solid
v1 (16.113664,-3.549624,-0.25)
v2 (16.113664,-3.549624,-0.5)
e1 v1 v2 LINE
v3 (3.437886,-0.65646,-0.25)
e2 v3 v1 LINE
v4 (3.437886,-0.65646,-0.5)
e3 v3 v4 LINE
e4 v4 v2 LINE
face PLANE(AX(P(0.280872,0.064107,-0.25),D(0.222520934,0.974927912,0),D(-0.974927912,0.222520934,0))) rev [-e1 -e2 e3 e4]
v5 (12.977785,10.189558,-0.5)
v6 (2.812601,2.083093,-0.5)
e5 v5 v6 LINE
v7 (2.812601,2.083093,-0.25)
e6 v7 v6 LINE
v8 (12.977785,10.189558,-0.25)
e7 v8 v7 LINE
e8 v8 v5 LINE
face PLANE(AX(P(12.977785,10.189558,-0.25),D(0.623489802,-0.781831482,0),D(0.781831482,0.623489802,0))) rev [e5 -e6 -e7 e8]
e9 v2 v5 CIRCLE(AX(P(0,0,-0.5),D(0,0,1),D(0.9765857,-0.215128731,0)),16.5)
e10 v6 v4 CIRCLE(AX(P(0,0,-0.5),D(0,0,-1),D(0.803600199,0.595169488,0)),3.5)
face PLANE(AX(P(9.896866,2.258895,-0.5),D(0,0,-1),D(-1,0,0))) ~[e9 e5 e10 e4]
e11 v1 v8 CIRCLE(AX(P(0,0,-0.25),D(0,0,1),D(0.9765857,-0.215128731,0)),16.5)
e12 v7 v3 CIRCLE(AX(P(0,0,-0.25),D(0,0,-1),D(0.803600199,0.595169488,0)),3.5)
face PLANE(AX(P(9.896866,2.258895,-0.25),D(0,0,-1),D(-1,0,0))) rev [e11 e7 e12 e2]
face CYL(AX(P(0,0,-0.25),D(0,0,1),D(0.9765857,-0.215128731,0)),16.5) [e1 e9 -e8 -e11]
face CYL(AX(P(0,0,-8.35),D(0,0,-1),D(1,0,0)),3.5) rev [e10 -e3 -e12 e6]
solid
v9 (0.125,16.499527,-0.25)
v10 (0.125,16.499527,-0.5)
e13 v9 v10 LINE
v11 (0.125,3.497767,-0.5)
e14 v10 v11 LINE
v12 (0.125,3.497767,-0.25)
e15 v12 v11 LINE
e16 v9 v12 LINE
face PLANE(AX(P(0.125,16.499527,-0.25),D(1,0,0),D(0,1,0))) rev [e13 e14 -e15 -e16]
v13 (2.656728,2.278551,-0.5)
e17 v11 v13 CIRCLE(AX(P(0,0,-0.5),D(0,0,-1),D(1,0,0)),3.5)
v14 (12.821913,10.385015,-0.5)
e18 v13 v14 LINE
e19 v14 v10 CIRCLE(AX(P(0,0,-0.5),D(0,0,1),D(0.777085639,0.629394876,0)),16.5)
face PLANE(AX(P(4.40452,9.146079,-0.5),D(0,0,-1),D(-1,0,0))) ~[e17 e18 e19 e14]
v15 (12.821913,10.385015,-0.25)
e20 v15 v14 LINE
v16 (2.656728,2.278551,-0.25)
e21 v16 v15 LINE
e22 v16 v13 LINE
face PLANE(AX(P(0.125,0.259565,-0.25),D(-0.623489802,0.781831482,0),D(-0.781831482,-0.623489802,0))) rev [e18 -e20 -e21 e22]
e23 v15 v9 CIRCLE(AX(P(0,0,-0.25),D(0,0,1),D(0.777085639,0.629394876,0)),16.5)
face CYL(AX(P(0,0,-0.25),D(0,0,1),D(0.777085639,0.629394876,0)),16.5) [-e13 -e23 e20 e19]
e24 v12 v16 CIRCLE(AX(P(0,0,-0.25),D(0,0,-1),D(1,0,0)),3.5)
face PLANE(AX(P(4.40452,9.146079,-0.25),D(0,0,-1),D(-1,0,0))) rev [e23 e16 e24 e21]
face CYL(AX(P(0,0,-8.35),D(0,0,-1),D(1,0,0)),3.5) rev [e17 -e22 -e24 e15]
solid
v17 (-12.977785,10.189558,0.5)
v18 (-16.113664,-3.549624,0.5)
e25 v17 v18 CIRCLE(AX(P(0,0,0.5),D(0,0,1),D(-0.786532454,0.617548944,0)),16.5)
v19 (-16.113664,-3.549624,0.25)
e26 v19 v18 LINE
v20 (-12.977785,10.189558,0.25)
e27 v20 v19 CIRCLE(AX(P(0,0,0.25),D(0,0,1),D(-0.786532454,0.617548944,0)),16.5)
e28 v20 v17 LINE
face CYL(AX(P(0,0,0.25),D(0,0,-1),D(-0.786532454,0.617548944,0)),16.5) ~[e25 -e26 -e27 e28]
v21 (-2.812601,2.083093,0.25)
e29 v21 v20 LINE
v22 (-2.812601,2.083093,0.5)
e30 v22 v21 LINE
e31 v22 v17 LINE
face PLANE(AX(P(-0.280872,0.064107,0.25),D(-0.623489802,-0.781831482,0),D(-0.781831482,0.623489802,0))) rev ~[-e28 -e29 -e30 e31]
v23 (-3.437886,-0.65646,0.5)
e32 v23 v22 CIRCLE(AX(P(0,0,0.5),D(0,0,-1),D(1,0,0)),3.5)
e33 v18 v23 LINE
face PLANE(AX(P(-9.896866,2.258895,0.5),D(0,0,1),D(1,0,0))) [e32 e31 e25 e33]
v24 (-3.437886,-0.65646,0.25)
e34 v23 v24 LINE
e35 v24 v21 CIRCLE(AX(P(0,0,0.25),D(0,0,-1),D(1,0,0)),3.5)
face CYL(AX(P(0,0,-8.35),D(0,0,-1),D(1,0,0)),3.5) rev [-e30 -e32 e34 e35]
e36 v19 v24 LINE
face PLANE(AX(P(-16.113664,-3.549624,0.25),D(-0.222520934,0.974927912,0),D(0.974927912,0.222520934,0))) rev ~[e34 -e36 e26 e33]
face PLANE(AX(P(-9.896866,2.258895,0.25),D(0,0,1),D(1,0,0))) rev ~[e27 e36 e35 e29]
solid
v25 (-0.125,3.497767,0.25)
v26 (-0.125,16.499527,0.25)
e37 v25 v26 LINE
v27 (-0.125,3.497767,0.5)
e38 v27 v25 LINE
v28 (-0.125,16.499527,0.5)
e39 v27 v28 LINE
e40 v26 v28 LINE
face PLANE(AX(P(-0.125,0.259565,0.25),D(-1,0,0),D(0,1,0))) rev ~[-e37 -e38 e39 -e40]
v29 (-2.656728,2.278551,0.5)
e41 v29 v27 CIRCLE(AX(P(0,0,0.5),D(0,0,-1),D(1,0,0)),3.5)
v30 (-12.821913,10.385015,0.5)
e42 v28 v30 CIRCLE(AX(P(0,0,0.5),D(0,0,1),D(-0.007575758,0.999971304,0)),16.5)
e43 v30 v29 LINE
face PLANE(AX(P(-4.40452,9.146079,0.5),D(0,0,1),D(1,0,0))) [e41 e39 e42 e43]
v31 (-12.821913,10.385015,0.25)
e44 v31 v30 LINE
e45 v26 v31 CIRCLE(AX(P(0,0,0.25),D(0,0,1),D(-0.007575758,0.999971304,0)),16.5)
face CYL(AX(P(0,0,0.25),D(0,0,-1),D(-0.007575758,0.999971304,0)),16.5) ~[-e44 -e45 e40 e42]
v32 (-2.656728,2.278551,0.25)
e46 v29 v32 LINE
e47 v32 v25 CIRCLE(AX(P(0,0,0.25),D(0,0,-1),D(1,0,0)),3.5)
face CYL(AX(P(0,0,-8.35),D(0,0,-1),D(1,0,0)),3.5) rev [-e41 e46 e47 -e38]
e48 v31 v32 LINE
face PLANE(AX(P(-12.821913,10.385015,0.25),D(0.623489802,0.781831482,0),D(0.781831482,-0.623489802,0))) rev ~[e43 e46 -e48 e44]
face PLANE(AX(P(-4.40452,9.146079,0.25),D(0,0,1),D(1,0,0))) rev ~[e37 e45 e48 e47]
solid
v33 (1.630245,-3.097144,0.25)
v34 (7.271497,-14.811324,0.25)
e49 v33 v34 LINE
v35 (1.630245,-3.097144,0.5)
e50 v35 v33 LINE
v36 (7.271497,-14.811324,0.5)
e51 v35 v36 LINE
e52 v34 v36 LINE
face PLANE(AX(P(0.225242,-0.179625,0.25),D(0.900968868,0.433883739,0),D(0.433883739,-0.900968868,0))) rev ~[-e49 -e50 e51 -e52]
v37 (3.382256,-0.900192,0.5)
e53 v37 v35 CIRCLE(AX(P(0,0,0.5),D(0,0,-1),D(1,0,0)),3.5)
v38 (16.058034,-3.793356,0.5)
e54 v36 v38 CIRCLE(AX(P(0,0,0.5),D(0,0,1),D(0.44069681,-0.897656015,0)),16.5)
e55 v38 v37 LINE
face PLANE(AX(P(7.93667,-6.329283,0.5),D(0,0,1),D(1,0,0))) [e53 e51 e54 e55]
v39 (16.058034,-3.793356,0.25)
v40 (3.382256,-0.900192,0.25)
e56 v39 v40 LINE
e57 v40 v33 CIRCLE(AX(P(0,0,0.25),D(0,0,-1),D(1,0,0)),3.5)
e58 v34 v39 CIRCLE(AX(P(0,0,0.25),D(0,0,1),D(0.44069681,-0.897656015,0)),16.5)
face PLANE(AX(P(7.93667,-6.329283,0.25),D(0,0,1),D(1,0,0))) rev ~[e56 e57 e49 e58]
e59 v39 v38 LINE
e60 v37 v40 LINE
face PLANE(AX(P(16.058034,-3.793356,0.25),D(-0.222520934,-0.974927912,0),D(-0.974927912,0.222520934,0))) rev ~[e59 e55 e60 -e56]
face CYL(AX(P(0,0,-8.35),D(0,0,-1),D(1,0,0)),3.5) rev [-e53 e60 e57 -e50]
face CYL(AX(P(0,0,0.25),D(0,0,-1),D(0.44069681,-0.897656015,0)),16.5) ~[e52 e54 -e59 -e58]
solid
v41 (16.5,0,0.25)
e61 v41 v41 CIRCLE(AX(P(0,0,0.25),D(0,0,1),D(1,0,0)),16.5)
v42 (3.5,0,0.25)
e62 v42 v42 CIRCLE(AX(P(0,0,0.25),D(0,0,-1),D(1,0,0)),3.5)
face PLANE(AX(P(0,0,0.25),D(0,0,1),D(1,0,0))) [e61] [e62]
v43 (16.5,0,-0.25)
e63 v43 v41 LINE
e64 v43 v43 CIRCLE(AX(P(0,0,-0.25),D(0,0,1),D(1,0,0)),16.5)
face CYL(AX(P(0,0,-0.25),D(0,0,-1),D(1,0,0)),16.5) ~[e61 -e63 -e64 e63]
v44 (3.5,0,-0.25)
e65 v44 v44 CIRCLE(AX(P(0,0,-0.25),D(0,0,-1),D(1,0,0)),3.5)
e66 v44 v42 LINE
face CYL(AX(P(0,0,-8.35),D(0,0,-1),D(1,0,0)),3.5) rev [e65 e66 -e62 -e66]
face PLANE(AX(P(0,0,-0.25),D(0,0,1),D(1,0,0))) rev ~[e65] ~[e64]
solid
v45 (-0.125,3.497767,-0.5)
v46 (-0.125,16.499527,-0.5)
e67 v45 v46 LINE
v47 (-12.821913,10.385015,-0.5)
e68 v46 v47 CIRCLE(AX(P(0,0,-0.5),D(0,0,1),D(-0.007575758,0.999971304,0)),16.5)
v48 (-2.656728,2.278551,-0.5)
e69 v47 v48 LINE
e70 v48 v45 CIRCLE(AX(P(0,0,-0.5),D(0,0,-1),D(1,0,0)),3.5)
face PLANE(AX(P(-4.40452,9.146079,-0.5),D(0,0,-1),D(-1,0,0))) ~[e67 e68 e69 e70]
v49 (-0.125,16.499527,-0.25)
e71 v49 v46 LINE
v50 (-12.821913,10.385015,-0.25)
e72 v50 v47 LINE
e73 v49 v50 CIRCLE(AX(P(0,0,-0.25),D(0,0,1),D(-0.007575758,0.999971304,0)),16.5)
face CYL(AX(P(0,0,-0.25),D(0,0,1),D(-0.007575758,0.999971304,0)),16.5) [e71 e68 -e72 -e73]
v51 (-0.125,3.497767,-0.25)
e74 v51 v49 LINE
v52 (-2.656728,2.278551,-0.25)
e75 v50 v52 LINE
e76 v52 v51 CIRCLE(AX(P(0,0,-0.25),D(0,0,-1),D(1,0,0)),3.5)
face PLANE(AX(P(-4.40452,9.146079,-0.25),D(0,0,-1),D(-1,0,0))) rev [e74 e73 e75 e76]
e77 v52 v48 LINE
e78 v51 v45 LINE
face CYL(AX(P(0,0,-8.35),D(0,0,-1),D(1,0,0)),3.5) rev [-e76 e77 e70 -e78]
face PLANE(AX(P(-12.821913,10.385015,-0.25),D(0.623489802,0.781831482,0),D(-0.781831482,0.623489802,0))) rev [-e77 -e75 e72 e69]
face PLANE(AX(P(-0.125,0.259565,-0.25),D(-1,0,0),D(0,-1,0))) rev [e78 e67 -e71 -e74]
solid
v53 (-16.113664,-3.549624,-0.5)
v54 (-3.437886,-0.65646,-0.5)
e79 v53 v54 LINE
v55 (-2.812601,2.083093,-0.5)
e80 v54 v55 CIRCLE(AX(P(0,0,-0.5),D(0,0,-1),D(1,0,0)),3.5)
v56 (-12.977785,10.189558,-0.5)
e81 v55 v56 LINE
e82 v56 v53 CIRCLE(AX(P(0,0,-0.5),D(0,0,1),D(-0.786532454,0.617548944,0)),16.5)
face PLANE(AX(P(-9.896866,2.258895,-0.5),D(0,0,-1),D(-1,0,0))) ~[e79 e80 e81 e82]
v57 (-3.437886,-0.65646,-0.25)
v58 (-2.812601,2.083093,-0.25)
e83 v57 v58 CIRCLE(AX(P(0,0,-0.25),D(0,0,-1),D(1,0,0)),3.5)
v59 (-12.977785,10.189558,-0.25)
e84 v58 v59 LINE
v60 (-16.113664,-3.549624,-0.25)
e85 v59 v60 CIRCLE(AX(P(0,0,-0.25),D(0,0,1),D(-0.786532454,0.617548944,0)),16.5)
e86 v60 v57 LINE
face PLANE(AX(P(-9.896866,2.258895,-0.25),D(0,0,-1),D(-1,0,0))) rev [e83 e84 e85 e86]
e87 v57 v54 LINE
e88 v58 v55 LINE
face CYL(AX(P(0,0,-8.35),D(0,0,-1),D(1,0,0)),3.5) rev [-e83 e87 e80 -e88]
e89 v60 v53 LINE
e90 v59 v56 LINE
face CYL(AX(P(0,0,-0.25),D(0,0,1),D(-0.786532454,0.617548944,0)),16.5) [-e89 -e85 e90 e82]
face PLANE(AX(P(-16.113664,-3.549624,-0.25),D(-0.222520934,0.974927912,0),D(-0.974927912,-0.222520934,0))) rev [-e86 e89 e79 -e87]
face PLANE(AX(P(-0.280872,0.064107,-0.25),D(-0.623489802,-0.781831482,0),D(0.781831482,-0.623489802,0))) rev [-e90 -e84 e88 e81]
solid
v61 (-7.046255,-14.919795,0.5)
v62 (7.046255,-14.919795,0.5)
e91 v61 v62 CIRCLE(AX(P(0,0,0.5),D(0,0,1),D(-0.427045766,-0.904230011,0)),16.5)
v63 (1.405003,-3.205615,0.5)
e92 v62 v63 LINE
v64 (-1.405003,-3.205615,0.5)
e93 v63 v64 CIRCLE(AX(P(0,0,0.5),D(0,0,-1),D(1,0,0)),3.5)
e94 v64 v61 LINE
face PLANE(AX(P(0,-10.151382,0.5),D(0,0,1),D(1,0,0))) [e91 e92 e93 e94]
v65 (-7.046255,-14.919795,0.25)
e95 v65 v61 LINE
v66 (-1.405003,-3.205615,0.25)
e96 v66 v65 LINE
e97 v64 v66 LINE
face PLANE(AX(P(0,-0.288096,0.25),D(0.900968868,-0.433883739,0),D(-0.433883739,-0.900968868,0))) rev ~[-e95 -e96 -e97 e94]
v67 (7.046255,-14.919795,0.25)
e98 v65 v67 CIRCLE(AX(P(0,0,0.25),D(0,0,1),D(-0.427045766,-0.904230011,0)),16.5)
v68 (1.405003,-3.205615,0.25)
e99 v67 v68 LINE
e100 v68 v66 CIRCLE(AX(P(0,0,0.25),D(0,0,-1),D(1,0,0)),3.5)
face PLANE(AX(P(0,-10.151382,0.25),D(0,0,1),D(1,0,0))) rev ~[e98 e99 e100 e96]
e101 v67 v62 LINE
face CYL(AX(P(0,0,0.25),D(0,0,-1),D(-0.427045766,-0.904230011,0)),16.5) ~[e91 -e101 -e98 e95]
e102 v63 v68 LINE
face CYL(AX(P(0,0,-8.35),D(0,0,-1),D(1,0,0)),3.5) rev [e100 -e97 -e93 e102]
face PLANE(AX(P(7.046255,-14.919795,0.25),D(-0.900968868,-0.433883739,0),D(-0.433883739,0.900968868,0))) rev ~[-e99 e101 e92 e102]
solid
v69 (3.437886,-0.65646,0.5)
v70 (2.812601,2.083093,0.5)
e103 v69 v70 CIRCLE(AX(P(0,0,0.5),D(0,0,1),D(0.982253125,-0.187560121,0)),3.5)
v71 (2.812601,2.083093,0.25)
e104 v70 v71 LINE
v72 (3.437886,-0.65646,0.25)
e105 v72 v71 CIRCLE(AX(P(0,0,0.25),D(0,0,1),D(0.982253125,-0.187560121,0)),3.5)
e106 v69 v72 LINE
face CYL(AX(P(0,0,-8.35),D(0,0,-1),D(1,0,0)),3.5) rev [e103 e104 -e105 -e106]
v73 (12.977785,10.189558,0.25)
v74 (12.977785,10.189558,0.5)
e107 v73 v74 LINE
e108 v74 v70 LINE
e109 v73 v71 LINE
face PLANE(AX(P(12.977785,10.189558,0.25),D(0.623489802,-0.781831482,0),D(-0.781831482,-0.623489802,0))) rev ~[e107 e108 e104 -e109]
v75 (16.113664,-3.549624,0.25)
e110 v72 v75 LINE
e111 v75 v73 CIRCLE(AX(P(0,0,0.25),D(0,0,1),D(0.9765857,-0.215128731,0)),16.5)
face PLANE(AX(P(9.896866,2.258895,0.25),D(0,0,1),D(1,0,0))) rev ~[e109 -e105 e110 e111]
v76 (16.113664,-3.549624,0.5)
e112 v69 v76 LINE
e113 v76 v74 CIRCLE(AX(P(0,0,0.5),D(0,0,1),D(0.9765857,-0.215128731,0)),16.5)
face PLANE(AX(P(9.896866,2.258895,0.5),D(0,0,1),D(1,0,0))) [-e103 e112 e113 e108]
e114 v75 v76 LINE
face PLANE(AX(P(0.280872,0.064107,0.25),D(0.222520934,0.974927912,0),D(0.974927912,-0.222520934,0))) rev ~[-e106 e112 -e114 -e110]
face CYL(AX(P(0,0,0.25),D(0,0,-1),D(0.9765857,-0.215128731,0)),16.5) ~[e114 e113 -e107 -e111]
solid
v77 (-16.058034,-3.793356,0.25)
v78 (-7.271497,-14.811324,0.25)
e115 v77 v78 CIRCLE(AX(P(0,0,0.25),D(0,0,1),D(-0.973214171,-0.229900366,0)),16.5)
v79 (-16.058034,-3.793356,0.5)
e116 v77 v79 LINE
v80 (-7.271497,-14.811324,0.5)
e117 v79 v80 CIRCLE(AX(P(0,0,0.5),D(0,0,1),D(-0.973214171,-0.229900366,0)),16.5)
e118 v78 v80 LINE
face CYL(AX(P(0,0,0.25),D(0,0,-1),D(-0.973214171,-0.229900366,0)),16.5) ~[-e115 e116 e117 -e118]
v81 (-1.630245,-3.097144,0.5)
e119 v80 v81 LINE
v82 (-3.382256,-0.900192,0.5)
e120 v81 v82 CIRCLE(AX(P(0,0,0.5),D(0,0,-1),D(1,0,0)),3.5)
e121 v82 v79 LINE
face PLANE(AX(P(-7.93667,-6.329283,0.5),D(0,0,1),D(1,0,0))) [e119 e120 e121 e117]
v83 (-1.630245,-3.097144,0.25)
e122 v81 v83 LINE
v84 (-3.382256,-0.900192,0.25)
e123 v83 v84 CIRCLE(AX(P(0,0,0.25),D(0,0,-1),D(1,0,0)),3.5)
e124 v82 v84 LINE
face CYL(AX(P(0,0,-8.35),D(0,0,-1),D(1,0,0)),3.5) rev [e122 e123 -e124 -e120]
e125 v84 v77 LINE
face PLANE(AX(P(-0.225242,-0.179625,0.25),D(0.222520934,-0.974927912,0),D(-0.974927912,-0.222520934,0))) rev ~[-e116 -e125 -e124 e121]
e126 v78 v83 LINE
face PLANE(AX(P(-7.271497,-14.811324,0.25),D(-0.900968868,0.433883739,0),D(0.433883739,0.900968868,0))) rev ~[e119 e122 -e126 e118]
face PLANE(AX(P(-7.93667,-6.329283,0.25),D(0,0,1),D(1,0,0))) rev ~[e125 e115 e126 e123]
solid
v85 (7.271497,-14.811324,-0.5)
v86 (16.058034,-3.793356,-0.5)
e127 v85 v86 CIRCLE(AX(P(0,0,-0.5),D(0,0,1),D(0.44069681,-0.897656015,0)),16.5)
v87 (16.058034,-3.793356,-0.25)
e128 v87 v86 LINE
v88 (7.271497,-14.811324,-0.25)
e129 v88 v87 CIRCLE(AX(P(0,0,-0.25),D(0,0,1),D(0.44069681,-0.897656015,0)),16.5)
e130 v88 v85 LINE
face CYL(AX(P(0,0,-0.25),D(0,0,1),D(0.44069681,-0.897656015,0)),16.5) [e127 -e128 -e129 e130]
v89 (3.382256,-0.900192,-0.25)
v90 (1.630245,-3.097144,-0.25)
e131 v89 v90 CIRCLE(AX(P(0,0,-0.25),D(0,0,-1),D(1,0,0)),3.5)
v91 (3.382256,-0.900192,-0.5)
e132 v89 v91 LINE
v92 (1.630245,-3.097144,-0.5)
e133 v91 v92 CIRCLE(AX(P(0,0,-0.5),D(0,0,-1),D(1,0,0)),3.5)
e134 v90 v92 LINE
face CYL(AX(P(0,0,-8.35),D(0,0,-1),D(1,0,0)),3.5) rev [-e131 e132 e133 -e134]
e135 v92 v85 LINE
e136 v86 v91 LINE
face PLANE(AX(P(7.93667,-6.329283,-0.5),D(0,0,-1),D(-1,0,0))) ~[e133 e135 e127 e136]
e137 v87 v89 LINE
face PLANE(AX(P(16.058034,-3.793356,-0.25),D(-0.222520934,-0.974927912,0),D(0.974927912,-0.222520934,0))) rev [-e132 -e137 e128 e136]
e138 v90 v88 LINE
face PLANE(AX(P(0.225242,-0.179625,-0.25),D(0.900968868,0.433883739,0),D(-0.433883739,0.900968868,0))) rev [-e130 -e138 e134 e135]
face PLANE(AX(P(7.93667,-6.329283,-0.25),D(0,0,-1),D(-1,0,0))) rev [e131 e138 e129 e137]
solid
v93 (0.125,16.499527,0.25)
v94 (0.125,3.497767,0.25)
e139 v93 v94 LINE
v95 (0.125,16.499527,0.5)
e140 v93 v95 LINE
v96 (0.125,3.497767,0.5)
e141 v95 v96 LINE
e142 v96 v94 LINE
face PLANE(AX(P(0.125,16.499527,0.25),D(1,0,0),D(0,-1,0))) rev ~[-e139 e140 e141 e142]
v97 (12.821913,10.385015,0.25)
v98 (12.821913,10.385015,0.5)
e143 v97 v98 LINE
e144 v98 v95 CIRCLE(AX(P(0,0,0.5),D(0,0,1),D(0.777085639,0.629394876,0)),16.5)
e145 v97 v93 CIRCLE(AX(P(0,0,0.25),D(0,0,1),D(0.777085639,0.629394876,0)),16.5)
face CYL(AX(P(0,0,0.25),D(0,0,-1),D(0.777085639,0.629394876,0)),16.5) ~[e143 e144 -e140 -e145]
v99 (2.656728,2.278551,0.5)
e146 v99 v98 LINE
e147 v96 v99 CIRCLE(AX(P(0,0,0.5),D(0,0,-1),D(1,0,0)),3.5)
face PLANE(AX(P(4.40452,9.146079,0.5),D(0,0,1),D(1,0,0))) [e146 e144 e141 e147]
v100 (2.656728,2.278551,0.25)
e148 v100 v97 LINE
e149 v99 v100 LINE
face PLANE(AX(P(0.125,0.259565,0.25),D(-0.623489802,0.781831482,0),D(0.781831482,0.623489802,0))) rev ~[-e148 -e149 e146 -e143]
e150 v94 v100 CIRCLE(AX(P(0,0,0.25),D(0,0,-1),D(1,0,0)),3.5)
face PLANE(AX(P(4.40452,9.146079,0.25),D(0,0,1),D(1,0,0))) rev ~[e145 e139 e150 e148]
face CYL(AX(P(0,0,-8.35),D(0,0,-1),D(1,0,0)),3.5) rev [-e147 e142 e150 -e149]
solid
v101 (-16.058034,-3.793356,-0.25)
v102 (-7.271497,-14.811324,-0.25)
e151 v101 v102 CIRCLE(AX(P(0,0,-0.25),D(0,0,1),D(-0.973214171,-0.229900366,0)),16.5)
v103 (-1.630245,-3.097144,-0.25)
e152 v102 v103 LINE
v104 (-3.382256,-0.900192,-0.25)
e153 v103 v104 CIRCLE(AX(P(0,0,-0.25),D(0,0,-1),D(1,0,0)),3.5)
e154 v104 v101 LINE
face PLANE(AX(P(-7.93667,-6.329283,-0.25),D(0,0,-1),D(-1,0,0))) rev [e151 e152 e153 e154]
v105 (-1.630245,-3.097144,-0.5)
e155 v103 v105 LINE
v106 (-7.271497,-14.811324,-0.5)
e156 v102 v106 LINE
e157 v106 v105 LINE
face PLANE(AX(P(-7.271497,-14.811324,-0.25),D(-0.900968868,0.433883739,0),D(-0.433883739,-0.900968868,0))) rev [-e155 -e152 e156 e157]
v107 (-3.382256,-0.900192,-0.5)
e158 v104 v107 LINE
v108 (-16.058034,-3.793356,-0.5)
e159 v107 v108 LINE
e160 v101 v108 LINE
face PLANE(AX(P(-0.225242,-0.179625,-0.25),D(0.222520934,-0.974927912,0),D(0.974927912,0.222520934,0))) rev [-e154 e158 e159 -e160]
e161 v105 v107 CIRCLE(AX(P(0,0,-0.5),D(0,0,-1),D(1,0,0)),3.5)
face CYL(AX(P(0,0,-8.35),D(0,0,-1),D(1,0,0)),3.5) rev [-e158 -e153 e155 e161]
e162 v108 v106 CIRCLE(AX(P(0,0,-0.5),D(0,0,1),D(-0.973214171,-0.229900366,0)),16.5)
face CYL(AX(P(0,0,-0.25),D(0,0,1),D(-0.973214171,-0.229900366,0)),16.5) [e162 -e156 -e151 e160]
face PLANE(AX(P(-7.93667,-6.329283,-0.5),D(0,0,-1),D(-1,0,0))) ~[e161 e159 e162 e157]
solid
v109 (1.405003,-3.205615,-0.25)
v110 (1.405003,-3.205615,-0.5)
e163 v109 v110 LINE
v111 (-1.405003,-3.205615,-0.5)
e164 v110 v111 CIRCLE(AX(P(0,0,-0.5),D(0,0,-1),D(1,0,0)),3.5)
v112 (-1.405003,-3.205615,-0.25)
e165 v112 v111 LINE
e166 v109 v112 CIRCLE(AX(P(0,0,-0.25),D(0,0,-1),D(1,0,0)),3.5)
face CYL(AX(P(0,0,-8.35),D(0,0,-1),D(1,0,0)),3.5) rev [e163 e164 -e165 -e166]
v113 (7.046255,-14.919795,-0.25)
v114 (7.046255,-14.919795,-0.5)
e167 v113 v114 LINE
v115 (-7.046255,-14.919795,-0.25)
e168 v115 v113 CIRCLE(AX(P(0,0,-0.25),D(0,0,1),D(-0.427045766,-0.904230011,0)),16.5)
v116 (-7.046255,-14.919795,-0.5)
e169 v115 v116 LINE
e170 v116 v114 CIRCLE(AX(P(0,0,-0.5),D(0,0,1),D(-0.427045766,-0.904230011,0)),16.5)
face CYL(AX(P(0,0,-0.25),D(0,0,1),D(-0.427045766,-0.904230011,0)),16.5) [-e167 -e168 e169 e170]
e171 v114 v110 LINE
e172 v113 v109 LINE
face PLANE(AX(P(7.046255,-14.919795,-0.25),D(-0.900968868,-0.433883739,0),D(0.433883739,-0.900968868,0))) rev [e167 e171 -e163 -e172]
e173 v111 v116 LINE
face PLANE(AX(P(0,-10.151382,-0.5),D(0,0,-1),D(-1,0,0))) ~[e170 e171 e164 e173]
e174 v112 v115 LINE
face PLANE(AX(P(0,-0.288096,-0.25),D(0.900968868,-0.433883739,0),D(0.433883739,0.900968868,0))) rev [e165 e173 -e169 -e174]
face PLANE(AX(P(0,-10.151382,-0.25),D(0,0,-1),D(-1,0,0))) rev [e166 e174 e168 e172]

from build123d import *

# Parameters (mm, degrees)
BOSS_EXTRUDE1_DEPTH      = 0.25
BOSS_EXTRUDE1_DEPTH_BACK = 0.25
SKETCH1_R                = 16.5
BOSS_EXTRUDE2_DEPTH      = 0.25
BOSS_EXTRUDE2_2_DEPTH    = 0.25
BOSS_EXTRUDE2_3_DEPTH    = 0.25
BOSS_EXTRUDE2_4_DEPTH    = 0.25
BOSS_EXTRUDE2_5_DEPTH    = 0.25
BOSS_EXTRUDE2_6_DEPTH    = 0.25
BOSS_EXTRUDE2_7_DEPTH    = 0.25
CUT_EXTRUDE2_DEPTH       = 10
CUT_EXTRUDE2_DEPTH_BACK  = 8.35
SKETCH3_R                = 3.5


with BuildPart() as part:
    # Sketch1 → Boss-Extrude1 (new, two sides: drawn at the far end of the back side and taken through both)
    with BuildSketch(Plane.XY.offset(-BOSS_EXTRUDE1_DEPTH_BACK)):
        Circle(SKETCH1_R)
    extrude(amount=BOSS_EXTRUDE1_DEPTH + BOSS_EXTRUDE1_DEPTH_BACK)


with BuildPart() as body_2:
    # Sketch2 → Boss-Extrude2 (new body)
    with BuildSketch(Plane.XY.offset(0.25)):
        with BuildLine():
            Line((0.125, 16.499526508), (0.125, 0.259565175))
            Line((0.125, 0.259565175), (12.821913045, 10.385015449))
            ThreePointArc((12.821913045, 10.385015449), (7.159081695, 14.86598632), (0.125, 16.499526508))
        make_face()
    extrude(amount=BOSS_EXTRUDE2_DEPTH)


with BuildPart() as body_3:
    # Sketch2 → Boss-Extrude2 2 (new body)
    with BuildSketch(Plane.XY.offset(0.25)):
        with BuildLine():
            Line((-12.821913045, 10.385015449), (-0.125, 0.259565175))
            Line((-0.125, 0.259565175), (-0.125, 16.499526508))
            ThreePointArc((-0.125, 16.499526508), (-7.159081695, 14.86598632), (-12.821913045, 10.385015449))
        make_face()
    extrude(amount=BOSS_EXTRUDE2_2_DEPTH)


with BuildPart() as body_4:
    # Sketch2 → Boss-Extrude2 3 (new body)
    with BuildSketch(Plane.XY.offset(0.25)):
        with BuildLine():
            Line((-16.113664048, -3.549624059), (-0.28087245, 0.064107304))
            Line((-0.28087245, 0.064107304), (-12.977785495, 10.189557578))
            ThreePointArc((-12.977785495, 10.189557578), (-16.086310551, 3.67159541), (-16.113664048, -3.549624059))
        make_face()
    extrude(amount=BOSS_EXTRUDE2_3_DEPTH)


with BuildPart() as body_5:
    # Sketch2 → Boss-Extrude2 4 (new body)
    with BuildSketch(Plane.XY.offset(0.25)):
        with BuildLine():
            Line((12.977785495, 10.189557578), (0.28087245, 0.064107304))
            Line((0.28087245, 0.064107304), (16.113664048, -3.549624059))
            ThreePointArc((16.113664048, -3.549624059), (16.086310551, 3.67159541), (12.977785495, 10.189557578))
        make_face()
    extrude(amount=BOSS_EXTRUDE2_4_DEPTH)


with BuildPart() as body_6:
    # Sketch2 → Boss-Extrude2 5 (new body)
    with BuildSketch(Plane.XY.offset(0.25)):
        with BuildLine():
            Line((16.058033814, -3.793356037), (0.225242217, -0.179624674))
            Line((0.225242217, -0.179624674), (7.271497364, -14.811324252))
            ThreePointArc((7.271497364, -14.811324252), (12.900219461, -10.287581731), (16.058033814, -3.793356037))
        make_face()
    extrude(amount=BOSS_EXTRUDE2_5_DEPTH)


with BuildPart() as body_7:
    # Sketch2 → Boss-Extrude2 6 (new body)
    with BuildSketch(Plane.XY.offset(0.25)):
        with BuildLine():
            Line((7.046255147, -14.919795187), (0, -0.288095609))
            Line((0, -0.288095609), (-7.046255147, -14.919795187))
            ThreePointArc((-7.046255147, -14.919795187), (0, -16.5), (7.046255147, -14.919795187))
        make_face()
    extrude(amount=BOSS_EXTRUDE2_6_DEPTH)


with BuildPart() as body_8:
    # Sketch2 → Boss-Extrude2 7 (new body)
    with BuildSketch(Plane.XY.offset(0.25)):
        with BuildLine():
            Line((-7.271497364, -14.811324252), (-0.225242217, -0.179624674))
            Line((-0.225242217, -0.179624674), (-16.058033814, -3.793356037))
            ThreePointArc((-16.058033814, -3.793356037), (-12.900219461, -10.287581731), (-7.271497364, -14.811324252))
        make_face()
    extrude(amount=BOSS_EXTRUDE2_7_DEPTH)


with BuildPart() as body_9:
    # Mirror5: mirrored copy
    add(body_2.part.mirror(Plane.XY))


with BuildPart() as body_10:
    # Mirror5 2: mirrored copy
    add(body_3.part.mirror(Plane.XY))


with BuildPart() as body_11:
    # Mirror5 3: mirrored copy
    add(body_5.part.mirror(Plane.XY))


with BuildPart() as body_12:
    # Mirror5 4: mirrored copy
    add(body_6.part.mirror(Plane.XY))


with BuildPart() as body_13:
    # Mirror5 5: mirrored copy
    add(body_7.part.mirror(Plane.XY))


with BuildPart() as body_14:
    # Mirror5 6: mirrored copy
    add(body_8.part.mirror(Plane.XY))


with BuildPart() as body_15:
    # Mirror5 7: mirrored copy
    add(body_4.part.mirror(Plane.XY))


with BuildPart() as cut_extrude2_tool:
    # Sketch3 → Cut-Extrude2 (new, two sides: drawn at the far end of the back side and taken through both)
    with BuildSketch(Plane.XY.offset(-CUT_EXTRUDE2_DEPTH_BACK)):
        Circle(SKETCH3_R)
    extrude(amount=CUT_EXTRUDE2_DEPTH + CUT_EXTRUDE2_DEPTH_BACK)


with BuildPart() as part_1:
    add(part.part)

    # Cut-Extrude2: cut by cut_extrude2_tool
    add(cut_extrude2_tool.part, mode=Mode.SUBTRACT)


with BuildPart() as body_2_1:
    add(body_2.part)

    # Cut-Extrude2: cut by cut_extrude2_tool
    add(cut_extrude2_tool.part, mode=Mode.SUBTRACT)


with BuildPart() as body_3_1:
    add(body_3.part)

    # Cut-Extrude2: cut by cut_extrude2_tool
    add(cut_extrude2_tool.part, mode=Mode.SUBTRACT)


with BuildPart() as body_4_1:
    add(body_4.part)

    # Cut-Extrude2: cut by cut_extrude2_tool
    add(cut_extrude2_tool.part, mode=Mode.SUBTRACT)


with BuildPart() as body_5_1:
    add(body_5.part)

    # Cut-Extrude2: cut by cut_extrude2_tool
    add(cut_extrude2_tool.part, mode=Mode.SUBTRACT)


with BuildPart() as body_6_1:
    add(body_6.part)

    # Cut-Extrude2: cut by cut_extrude2_tool
    add(cut_extrude2_tool.part, mode=Mode.SUBTRACT)


with BuildPart() as body_7_1:
    add(body_7.part)

    # Cut-Extrude2: cut by cut_extrude2_tool
    add(cut_extrude2_tool.part, mode=Mode.SUBTRACT)


with BuildPart() as body_8_1:
    add(body_8.part)

    # Cut-Extrude2: cut by cut_extrude2_tool
    add(cut_extrude2_tool.part, mode=Mode.SUBTRACT)


with BuildPart() as body_9_1:
    add(body_9.part)

    # Cut-Extrude2: cut by cut_extrude2_tool
    add(cut_extrude2_tool.part, mode=Mode.SUBTRACT)


with BuildPart() as body_10_1:
    add(body_10.part)

    # Cut-Extrude2: cut by cut_extrude2_tool
    add(cut_extrude2_tool.part, mode=Mode.SUBTRACT)


with BuildPart() as body_11_1:
    add(body_11.part)

    # Cut-Extrude2: cut by cut_extrude2_tool
    add(cut_extrude2_tool.part, mode=Mode.SUBTRACT)


with BuildPart() as body_12_1:
    add(body_12.part)

    # Cut-Extrude2: cut by cut_extrude2_tool
    add(cut_extrude2_tool.part, mode=Mode.SUBTRACT)


with BuildPart() as body_13_1:
    add(body_13.part)

    # Cut-Extrude2: cut by cut_extrude2_tool
    add(cut_extrude2_tool.part, mode=Mode.SUBTRACT)


with BuildPart() as body_14_1:
    add(body_14.part)

    # Cut-Extrude2: cut by cut_extrude2_tool
    add(cut_extrude2_tool.part, mode=Mode.SUBTRACT)


with BuildPart() as body_15_1:
    add(body_15.part)

    # Cut-Extrude2: cut by cut_extrude2_tool
    add(cut_extrude2_tool.part, mode=Mode.SUBTRACT)


solid = Compound([part_1.part, body_2_1.part, body_3_1.part, body_4_1.part, body_5_1.part, body_6_1.part, body_7_1.part, body_8_1.part, body_9_1.part, body_10_1.part, body_11_1.part, body_12_1.part, body_13_1.part, body_14_1.part, body_15_1.part])
